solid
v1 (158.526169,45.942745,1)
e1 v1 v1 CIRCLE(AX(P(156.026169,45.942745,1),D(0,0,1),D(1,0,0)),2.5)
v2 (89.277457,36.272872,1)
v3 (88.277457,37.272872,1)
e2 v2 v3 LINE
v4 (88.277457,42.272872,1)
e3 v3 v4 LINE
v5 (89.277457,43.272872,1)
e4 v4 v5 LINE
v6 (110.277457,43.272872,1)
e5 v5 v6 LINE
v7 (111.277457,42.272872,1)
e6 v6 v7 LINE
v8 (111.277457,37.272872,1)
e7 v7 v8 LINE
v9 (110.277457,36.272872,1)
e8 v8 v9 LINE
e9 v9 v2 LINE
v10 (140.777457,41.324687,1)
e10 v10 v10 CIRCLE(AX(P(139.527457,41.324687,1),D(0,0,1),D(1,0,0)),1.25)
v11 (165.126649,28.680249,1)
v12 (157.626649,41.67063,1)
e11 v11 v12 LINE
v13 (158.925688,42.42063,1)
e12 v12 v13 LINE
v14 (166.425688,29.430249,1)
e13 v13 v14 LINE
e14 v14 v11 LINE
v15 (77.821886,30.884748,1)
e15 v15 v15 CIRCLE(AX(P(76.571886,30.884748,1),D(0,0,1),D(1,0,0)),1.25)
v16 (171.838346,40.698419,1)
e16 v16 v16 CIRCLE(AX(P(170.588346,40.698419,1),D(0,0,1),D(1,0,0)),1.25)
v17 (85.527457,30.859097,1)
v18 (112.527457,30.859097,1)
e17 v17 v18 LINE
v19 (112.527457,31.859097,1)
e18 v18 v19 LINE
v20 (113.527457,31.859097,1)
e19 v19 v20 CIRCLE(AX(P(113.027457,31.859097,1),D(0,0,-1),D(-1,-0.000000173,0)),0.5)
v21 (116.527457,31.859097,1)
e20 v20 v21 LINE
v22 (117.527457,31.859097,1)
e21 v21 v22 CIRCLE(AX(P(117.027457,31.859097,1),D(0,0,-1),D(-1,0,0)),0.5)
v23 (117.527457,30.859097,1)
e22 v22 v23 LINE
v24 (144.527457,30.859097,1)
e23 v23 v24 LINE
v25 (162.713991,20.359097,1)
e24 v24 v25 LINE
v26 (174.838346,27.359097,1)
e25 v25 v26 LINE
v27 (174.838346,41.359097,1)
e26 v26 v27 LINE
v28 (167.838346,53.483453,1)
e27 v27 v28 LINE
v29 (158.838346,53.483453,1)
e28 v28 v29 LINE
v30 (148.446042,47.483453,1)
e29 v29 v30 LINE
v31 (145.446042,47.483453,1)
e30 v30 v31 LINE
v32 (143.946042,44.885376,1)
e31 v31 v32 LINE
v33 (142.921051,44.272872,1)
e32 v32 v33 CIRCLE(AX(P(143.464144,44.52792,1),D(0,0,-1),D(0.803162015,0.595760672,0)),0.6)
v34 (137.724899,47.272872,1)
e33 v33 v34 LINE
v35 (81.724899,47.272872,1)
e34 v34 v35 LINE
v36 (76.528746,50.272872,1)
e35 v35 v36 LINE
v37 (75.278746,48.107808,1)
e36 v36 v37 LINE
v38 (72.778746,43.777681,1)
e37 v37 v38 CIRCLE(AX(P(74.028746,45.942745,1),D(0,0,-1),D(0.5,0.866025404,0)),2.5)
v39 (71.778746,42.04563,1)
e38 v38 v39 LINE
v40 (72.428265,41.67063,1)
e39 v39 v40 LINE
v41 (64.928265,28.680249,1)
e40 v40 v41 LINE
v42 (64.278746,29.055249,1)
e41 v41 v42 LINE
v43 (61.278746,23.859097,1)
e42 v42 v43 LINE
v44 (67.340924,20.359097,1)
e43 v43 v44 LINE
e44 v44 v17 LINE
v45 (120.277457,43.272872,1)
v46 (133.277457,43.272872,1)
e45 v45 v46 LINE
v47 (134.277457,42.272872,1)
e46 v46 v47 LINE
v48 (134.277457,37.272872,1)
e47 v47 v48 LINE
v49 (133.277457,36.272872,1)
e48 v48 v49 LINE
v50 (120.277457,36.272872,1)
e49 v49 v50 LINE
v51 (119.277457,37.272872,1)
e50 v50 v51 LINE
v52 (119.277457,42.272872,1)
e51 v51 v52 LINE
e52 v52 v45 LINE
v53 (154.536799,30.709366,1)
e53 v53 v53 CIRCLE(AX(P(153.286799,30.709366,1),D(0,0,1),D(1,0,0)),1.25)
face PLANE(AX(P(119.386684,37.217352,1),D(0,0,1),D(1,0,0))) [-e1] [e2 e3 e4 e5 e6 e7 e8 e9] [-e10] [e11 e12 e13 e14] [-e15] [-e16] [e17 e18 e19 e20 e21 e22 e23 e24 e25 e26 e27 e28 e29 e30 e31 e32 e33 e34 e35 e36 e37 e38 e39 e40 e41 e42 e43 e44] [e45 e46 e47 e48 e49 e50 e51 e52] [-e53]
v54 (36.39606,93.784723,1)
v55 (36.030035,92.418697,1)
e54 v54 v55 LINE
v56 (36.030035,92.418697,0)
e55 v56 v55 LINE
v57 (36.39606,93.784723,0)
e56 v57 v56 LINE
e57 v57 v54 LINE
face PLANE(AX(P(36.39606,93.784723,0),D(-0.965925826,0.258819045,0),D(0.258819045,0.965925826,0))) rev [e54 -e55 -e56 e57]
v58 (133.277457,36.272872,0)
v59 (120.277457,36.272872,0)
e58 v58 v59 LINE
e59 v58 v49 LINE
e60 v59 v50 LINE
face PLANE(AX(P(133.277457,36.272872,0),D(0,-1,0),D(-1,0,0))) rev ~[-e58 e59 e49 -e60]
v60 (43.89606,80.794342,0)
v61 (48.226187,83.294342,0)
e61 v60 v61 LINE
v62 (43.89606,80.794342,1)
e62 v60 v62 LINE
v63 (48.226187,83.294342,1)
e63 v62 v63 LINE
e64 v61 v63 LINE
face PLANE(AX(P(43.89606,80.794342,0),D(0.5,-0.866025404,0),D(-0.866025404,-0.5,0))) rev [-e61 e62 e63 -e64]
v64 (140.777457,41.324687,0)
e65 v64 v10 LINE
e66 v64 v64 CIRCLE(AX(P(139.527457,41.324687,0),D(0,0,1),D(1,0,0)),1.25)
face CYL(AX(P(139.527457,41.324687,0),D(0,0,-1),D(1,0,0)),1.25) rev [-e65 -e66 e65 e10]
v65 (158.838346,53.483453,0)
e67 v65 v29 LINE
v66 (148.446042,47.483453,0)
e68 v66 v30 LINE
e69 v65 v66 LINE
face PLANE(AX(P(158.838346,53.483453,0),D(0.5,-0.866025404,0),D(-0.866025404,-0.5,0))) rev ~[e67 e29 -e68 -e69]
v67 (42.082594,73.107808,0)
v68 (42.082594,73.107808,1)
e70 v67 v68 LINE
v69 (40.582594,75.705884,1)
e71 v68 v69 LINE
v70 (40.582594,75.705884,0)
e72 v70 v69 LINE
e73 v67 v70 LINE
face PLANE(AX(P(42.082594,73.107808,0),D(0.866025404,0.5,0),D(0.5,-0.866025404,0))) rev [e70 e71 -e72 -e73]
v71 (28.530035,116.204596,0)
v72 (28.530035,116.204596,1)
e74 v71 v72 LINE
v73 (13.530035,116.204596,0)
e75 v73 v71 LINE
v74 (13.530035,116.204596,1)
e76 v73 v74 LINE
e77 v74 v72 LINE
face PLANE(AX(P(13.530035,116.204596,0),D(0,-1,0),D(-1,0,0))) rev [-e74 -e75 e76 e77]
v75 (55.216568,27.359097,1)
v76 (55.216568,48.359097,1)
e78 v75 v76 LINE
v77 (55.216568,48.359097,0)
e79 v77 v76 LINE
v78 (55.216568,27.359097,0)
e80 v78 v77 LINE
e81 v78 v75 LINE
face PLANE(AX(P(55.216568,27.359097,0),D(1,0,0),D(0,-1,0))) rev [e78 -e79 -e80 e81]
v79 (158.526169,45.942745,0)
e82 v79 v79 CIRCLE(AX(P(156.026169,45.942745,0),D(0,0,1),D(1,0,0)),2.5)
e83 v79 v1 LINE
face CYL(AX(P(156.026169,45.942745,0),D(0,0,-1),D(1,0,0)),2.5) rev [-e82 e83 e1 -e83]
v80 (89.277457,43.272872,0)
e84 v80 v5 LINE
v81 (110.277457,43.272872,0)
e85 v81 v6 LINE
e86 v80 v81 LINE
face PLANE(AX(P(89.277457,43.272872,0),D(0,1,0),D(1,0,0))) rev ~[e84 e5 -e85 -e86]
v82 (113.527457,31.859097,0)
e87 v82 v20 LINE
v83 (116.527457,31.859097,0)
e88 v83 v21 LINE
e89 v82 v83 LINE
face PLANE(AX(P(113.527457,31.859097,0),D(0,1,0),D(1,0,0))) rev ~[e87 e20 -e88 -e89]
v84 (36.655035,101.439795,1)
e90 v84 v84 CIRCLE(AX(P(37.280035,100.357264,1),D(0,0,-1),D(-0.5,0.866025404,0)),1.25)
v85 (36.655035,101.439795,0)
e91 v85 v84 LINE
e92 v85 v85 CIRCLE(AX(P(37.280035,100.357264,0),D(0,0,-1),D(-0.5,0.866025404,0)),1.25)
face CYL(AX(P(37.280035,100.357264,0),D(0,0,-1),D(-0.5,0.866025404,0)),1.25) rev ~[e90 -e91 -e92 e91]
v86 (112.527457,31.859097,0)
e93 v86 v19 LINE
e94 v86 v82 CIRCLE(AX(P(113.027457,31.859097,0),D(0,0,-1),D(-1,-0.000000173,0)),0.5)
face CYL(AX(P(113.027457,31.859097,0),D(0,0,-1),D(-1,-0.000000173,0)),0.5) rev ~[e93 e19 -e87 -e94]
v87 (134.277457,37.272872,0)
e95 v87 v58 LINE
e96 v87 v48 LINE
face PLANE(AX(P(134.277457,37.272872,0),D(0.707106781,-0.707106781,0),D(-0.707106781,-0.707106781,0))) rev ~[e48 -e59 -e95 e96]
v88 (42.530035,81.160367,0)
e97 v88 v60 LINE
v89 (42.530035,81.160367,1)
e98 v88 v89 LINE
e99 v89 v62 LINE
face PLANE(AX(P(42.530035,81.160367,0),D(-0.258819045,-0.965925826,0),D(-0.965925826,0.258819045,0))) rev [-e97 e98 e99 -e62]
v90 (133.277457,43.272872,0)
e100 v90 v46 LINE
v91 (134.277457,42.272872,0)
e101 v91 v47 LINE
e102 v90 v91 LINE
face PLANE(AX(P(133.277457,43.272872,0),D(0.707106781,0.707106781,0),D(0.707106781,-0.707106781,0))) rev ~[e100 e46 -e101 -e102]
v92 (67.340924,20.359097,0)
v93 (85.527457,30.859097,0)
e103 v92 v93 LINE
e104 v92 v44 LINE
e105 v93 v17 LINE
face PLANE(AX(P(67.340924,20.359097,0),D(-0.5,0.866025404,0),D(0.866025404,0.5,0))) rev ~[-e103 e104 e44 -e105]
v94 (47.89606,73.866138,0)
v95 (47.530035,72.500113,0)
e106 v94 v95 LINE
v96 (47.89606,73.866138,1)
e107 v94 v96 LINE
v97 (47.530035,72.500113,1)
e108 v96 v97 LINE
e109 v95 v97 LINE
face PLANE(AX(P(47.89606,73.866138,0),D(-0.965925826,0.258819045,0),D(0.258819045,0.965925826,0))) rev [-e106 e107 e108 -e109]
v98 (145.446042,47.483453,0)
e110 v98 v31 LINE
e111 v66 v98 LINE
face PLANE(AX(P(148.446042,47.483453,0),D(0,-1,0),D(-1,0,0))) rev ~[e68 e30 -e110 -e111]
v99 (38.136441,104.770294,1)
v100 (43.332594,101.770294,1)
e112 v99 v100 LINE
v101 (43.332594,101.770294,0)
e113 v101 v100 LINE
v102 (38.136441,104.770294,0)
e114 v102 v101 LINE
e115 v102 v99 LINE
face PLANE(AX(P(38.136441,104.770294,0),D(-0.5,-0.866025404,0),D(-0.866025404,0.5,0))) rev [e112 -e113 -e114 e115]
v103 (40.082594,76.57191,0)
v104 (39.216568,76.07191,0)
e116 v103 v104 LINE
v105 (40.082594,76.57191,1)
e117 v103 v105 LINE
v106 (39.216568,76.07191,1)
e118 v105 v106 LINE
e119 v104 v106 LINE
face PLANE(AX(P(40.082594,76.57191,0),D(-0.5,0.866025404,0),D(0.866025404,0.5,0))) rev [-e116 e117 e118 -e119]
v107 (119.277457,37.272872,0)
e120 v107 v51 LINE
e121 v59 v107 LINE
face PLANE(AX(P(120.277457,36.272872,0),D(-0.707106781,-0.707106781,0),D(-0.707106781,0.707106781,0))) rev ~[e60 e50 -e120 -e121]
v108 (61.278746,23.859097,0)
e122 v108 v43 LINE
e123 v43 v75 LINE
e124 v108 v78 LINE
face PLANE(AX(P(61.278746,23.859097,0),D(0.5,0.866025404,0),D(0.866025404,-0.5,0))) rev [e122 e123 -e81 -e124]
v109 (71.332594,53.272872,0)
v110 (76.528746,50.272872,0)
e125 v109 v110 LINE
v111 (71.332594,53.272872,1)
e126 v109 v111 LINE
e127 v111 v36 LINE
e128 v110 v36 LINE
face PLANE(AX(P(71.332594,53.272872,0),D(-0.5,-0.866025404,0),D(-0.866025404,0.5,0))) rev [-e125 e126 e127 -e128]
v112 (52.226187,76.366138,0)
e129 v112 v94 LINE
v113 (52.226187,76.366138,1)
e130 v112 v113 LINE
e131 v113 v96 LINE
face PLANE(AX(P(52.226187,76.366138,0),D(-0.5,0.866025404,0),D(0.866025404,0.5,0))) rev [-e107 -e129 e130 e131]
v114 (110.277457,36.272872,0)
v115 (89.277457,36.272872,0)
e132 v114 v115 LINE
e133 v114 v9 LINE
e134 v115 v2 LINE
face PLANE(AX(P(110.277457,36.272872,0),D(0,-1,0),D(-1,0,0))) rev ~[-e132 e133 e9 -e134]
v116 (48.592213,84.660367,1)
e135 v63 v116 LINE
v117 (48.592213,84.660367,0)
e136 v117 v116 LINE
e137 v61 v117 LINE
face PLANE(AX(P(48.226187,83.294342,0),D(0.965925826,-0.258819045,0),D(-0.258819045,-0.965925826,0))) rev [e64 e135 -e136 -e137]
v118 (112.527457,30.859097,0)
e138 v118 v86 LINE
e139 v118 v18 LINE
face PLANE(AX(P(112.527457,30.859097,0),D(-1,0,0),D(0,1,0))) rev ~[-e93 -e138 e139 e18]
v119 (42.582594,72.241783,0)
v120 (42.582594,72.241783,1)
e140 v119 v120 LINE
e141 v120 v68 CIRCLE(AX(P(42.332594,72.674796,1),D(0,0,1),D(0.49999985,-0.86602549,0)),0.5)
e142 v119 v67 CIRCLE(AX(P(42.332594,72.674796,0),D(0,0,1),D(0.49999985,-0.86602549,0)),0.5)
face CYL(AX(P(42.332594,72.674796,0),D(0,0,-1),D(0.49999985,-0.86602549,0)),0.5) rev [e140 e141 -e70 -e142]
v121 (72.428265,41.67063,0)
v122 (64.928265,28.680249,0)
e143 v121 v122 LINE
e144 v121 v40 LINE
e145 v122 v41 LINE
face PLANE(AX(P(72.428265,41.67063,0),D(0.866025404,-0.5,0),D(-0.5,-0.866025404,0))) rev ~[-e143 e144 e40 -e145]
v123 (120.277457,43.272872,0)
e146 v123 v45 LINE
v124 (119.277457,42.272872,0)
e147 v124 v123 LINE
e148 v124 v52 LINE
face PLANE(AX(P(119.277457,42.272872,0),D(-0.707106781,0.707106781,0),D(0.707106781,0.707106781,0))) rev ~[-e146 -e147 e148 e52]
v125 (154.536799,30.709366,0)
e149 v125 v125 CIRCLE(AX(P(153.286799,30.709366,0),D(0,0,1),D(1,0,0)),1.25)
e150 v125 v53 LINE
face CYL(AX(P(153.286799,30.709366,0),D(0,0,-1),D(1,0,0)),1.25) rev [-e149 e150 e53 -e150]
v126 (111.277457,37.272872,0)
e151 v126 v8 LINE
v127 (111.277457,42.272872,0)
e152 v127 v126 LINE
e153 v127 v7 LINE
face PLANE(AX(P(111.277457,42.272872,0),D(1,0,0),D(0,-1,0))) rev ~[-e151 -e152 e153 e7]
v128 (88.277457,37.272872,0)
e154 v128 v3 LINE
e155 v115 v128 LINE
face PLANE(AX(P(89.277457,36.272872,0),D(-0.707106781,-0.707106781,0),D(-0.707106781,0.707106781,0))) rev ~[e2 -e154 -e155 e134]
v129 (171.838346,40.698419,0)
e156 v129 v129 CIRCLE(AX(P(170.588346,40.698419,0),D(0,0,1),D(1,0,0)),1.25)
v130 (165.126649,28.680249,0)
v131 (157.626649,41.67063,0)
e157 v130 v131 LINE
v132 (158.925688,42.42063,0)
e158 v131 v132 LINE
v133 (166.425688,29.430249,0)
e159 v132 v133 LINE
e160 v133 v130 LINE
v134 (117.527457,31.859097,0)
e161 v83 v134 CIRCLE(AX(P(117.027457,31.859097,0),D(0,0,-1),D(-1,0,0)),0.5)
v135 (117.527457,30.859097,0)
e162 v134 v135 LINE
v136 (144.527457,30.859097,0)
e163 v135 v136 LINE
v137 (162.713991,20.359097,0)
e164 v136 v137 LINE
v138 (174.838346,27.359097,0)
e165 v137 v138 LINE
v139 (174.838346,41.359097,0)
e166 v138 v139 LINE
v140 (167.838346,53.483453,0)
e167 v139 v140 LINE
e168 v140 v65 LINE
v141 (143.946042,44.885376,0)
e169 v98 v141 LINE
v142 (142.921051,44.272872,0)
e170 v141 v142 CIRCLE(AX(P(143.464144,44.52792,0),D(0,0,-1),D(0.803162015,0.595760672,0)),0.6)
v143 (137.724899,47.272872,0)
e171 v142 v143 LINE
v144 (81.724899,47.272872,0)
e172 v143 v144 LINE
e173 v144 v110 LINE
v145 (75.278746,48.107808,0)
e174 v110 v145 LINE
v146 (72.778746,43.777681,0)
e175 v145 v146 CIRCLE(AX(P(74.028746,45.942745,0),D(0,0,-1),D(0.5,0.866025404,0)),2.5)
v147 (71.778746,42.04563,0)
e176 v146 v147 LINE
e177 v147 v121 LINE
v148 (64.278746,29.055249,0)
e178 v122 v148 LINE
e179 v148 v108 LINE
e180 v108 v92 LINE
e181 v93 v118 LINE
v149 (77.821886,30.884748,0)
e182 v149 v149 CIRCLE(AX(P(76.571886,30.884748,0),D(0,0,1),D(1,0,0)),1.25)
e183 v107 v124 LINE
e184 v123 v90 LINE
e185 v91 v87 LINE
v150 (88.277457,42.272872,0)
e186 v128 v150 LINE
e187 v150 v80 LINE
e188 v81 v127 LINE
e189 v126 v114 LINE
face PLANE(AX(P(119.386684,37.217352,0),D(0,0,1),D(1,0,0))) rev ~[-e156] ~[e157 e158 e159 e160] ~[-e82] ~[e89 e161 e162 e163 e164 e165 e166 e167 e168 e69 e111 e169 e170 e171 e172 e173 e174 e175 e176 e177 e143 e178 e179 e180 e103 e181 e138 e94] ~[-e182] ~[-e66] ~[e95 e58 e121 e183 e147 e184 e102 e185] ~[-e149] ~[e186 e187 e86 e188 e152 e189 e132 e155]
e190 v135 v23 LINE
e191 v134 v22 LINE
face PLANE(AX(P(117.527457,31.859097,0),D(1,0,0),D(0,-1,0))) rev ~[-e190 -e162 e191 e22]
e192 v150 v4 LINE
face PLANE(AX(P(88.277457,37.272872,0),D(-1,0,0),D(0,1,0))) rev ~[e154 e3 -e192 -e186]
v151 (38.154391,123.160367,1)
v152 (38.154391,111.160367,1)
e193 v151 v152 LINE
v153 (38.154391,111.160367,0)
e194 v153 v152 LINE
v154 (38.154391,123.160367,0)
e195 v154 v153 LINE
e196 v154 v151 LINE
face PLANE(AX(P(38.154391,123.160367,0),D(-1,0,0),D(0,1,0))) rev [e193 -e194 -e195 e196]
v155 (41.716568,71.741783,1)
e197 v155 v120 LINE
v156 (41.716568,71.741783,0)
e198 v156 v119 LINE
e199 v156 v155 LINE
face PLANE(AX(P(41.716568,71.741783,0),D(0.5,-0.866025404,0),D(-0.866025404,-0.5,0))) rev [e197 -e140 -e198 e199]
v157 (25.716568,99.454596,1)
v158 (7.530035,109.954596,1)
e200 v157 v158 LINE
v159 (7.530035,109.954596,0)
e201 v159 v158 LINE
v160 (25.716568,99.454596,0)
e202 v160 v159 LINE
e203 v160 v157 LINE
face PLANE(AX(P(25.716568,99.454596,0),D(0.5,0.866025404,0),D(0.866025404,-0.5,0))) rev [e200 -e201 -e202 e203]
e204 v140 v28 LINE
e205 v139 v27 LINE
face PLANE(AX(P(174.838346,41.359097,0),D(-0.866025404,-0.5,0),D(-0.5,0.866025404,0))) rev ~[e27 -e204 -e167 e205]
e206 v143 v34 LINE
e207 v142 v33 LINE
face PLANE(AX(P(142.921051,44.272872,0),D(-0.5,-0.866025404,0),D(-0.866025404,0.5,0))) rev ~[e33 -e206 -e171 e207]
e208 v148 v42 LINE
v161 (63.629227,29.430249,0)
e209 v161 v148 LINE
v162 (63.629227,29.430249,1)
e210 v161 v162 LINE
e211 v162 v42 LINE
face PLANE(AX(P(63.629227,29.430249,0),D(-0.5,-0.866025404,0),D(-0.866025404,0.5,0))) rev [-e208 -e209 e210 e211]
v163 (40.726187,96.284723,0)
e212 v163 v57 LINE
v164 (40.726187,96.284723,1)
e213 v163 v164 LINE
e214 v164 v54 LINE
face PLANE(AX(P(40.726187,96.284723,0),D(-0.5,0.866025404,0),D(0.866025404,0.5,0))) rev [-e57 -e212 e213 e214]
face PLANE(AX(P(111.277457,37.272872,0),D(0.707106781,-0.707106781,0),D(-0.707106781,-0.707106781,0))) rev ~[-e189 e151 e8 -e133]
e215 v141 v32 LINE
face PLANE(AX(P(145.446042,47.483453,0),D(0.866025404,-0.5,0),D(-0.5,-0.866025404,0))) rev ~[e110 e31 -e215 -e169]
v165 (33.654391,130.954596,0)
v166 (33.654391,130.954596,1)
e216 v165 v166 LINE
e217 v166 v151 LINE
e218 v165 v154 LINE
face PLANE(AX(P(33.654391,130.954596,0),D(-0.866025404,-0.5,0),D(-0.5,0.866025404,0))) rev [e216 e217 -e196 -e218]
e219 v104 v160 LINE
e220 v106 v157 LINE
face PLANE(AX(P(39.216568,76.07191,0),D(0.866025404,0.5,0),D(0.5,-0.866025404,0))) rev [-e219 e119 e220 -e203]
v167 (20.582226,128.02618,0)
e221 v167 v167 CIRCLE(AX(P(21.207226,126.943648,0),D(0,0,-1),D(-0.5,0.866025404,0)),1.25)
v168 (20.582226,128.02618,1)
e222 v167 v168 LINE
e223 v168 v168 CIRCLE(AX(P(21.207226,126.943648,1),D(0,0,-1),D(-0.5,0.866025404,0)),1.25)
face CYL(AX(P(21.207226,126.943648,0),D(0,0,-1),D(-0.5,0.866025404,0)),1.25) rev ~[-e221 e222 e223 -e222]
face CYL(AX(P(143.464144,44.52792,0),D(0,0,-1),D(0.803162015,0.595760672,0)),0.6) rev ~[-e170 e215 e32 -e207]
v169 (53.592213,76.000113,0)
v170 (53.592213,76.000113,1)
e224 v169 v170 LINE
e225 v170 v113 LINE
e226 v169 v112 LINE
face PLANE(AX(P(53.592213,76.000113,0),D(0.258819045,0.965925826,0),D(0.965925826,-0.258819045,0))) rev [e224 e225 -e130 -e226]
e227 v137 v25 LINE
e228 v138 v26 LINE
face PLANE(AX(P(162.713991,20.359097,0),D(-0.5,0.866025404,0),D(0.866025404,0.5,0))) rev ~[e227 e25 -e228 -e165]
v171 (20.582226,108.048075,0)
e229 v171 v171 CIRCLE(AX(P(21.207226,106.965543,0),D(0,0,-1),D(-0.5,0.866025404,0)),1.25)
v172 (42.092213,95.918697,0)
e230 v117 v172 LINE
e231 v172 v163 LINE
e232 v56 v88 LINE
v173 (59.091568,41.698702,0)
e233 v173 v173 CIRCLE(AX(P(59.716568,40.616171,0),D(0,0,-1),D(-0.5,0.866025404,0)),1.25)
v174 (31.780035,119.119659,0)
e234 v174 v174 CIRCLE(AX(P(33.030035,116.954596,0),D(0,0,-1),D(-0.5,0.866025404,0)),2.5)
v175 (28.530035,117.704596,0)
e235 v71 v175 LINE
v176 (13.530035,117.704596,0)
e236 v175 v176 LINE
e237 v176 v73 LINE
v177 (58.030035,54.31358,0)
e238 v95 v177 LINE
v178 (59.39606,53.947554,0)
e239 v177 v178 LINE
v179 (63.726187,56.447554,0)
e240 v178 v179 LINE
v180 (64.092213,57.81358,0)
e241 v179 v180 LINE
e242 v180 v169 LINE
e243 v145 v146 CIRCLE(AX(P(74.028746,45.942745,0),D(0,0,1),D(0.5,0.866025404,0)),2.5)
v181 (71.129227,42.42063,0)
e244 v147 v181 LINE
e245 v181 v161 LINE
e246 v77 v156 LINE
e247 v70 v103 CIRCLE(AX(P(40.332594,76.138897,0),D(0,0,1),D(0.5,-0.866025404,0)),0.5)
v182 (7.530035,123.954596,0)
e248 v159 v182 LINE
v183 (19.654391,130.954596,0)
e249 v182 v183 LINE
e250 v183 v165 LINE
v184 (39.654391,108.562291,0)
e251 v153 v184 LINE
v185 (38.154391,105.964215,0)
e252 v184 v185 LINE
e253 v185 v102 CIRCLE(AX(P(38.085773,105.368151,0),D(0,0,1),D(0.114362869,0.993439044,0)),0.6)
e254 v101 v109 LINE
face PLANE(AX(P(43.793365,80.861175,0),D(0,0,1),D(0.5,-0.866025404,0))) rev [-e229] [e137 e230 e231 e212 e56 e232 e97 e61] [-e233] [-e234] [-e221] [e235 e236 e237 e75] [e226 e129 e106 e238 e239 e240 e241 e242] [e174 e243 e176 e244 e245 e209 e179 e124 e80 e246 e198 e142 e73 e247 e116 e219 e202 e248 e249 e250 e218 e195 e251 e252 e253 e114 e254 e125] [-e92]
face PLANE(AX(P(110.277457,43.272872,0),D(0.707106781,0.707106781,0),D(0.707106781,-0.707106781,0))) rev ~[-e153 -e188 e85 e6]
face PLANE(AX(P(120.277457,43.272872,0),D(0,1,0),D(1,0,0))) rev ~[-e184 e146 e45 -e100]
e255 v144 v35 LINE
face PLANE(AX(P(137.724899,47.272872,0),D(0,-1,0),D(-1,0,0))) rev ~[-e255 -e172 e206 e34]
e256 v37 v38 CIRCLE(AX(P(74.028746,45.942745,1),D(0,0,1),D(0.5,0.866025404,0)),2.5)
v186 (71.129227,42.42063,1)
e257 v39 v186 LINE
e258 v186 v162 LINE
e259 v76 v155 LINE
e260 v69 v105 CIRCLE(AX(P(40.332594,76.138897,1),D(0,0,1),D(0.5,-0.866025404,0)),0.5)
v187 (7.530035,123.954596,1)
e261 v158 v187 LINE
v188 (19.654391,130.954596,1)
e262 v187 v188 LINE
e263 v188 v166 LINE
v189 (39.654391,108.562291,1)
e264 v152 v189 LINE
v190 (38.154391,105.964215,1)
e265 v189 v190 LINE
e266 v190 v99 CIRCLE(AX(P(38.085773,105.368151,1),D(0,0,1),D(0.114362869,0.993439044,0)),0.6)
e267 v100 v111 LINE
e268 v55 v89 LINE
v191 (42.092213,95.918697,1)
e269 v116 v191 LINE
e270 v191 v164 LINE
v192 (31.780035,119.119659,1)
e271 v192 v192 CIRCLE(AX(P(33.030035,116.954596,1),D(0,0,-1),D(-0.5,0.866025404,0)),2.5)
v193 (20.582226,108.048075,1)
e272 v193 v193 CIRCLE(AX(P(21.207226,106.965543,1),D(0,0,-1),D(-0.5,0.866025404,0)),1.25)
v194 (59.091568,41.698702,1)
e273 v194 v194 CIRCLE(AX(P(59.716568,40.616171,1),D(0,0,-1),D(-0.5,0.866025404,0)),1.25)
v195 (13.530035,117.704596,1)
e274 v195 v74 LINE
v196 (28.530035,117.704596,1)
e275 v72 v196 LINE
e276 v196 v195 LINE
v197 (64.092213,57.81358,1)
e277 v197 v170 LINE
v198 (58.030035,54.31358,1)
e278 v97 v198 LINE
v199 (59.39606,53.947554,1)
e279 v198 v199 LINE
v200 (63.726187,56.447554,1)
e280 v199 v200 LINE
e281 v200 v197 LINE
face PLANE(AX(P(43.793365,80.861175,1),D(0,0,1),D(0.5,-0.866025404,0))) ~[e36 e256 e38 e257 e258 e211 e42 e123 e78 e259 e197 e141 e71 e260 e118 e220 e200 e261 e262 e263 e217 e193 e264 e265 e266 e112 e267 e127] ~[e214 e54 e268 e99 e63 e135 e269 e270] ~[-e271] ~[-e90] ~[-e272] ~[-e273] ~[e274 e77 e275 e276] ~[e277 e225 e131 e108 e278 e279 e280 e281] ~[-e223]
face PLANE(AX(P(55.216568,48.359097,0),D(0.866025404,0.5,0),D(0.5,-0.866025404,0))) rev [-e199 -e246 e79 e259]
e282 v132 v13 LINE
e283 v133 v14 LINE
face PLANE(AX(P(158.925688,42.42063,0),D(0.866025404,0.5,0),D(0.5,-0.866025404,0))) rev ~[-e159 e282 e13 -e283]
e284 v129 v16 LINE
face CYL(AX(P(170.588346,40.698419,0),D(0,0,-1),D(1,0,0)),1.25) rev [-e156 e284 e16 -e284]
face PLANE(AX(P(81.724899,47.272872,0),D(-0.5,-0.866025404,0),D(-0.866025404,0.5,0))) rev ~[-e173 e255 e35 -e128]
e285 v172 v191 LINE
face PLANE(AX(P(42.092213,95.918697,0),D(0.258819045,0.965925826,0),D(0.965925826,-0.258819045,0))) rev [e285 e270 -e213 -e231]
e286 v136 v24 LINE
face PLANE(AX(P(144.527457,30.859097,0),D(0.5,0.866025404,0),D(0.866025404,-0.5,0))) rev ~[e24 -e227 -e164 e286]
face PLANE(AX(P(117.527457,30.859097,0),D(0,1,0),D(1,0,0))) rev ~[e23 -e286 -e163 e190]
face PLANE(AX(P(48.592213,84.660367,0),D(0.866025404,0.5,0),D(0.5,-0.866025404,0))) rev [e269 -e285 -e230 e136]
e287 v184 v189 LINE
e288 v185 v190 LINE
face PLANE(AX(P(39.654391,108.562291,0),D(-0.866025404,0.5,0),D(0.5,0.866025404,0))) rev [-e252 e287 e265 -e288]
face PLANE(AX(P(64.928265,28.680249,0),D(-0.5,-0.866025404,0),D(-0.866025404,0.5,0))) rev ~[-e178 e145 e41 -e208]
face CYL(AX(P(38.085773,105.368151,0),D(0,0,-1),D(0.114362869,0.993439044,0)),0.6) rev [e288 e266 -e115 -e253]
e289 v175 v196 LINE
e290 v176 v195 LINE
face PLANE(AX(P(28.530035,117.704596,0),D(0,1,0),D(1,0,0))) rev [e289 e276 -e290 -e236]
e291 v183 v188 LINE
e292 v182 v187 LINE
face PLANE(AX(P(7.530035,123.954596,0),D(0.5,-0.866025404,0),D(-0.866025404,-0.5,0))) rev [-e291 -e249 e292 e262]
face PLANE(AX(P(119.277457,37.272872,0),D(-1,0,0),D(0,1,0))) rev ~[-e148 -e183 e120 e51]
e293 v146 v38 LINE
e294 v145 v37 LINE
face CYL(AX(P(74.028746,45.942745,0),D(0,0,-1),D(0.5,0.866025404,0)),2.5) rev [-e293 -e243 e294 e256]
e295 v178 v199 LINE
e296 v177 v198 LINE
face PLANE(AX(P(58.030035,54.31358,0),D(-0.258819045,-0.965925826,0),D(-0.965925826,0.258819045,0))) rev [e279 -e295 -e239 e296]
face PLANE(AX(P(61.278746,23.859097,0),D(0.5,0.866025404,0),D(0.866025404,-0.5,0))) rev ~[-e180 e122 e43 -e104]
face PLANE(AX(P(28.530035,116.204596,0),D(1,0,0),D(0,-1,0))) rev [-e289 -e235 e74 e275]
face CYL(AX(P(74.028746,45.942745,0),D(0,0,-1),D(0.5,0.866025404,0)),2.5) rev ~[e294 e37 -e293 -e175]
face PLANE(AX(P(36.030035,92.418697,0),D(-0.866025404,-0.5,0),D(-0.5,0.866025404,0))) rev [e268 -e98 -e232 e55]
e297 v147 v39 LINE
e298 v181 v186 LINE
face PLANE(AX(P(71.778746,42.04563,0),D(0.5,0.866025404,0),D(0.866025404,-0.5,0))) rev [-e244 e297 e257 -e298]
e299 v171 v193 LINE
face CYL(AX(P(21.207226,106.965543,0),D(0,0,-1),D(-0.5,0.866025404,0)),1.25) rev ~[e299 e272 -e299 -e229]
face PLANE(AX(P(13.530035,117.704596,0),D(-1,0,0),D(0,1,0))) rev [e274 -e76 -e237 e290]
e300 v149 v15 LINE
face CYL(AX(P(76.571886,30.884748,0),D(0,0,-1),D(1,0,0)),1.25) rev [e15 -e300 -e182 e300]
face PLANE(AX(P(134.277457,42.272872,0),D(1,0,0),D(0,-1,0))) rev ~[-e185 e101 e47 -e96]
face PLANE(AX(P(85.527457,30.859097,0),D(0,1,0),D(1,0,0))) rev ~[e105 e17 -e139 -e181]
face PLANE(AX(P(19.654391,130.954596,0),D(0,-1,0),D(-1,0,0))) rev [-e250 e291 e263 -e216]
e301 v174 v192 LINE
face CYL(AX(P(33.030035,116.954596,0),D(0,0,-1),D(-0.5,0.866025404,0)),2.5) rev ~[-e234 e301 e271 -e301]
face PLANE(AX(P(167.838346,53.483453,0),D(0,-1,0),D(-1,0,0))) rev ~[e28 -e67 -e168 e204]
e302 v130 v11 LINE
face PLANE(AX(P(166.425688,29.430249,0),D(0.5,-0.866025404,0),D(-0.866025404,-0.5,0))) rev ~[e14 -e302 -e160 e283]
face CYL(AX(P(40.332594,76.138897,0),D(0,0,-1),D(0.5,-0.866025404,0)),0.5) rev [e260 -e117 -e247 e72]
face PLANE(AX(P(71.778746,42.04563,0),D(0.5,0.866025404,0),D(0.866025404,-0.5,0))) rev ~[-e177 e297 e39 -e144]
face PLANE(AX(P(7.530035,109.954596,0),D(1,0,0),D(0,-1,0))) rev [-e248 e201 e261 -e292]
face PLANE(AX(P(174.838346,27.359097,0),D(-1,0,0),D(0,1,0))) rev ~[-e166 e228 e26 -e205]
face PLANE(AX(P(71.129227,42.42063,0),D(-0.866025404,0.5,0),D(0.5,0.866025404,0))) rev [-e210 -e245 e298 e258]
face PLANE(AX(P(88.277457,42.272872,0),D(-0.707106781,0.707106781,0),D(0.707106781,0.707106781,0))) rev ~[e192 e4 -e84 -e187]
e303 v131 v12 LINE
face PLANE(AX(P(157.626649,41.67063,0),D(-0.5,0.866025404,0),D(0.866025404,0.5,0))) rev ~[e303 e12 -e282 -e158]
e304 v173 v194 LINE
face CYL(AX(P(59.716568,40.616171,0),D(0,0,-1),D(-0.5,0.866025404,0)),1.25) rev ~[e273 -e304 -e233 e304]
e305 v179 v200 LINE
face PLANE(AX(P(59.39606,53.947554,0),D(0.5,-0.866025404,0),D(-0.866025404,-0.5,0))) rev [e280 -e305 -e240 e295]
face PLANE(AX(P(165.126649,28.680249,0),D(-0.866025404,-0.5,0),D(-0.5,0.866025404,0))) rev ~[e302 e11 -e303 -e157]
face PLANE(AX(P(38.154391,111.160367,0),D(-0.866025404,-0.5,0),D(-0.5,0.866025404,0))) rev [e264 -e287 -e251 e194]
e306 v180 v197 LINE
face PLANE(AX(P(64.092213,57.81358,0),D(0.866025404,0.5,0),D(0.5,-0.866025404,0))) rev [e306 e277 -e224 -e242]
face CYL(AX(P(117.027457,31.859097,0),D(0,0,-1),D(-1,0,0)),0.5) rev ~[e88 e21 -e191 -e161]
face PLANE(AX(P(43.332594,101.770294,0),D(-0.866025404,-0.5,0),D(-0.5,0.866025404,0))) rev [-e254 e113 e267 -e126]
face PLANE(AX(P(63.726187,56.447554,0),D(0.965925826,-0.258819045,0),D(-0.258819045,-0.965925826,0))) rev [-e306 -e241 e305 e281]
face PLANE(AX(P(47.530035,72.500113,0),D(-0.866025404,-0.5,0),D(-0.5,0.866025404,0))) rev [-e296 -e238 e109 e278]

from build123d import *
from build123d.topology import SkipClean

# Parameters (mm, degrees)
CROQUIS1_R              = 1.25
CROQUIS1_R_2            = 2.5
SALIENTE_EXTRUIR1_DEPTH = 1


with BuildPart() as part:
    # Croquis1 → Saliente-Extruir1 (new body)
    with BuildSketch(Plane.XY):
        with BuildLine():
            Line((64.278746094, 29.055249422), (61.278746094, 23.859096999))
            Line((61.278746094, 23.859096999), (67.340923921, 20.359096999))
            Line((67.340923921, 20.359096999), (85.5274574, 30.859096999))
            Line((85.5274574, 30.859096999), (112.5274574, 30.859096999))
            Line((112.5274574, 30.859096999), (112.5274574, 31.859096999))
            ThreePointArc((112.5274574, 31.859096999), (113.027457314, 32.359096999), (113.527457227, 31.859096999))
            Line((113.527457227, 31.859096999), (116.527457227, 31.859096999))
            ThreePointArc((116.527457227, 31.859096999), (117.027457227, 32.359096999), (117.527457227, 31.859096999))
            Line((117.527457227, 31.859096999), (117.527457227, 30.859096999))
            Line((117.527457227, 30.859096999), (144.527457227, 30.859096999))
            Line((144.527457227, 30.859096999), (162.713990707, 20.359096999))
            Line((162.713990707, 20.359096999), (174.83834636, 27.359096999))
            Line((174.83834636, 27.359096999), (174.83834636, 41.359096999))
            Line((174.83834636, 41.359096999), (167.83834636, 53.483452652))
            Line((167.83834636, 53.483452652), (158.83834636, 53.483452652))
            Line((158.83834636, 53.483452652), (148.446041514, 47.483452652))
            Line((148.446041514, 47.483452652), (145.446041514, 47.483452652))
            Line((145.446041514, 47.483452652), (143.946041514, 44.88537644))
            ThreePointArc((143.946041514, 44.88537644), (143.77192137, 44.012873167), (142.92105094, 44.272871814))
            Line((142.92105094, 44.272871814), (137.724898517, 47.272871814))
            Line((137.724898517, 47.272871814), (81.724898517, 47.272871814))
            Line((81.724898517, 47.272871814), (76.528746094, 50.272871814))
            Line((76.528746094, 50.272871814), (75.278746094, 48.107808305))
            ThreePointArc((75.278746094, 48.107808305), (76.193809604, 44.692744795), (72.778746094, 43.777681286))
            Line((72.778746094, 43.777681286), (71.778746094, 42.045630478))
            Line((71.778746094, 42.045630478), (72.428265147, 41.670630478))
            Line((72.428265147, 41.670630478), (64.928265147, 28.680249422))
            Line((64.928265147, 28.680249422), (64.278746094, 29.055249422))
        make_face()
        with Locations((76.571886424, 30.884748108)):
            Circle(CROQUIS1_R, mode=Mode.SUBTRACT)
        with Locations((153.286799356, 30.709365751)):
            Circle(CROQUIS1_R, mode=Mode.SUBTRACT)
        Polygon((166.425687586, 29.430249422), (165.776168533, 29.055249422), (165.12664948, 28.680249422), (157.62664948, 41.670630478), (158.276168533, 42.045630478), (158.925687586, 42.420630478), align=None, mode=Mode.SUBTRACT)
        Polygon((88.277457227, 42.272871814), (89.277457227, 43.272871814), (110.277457227, 43.272871814), (111.277457227, 42.272871814), (111.277457227, 37.272871814), (110.277457227, 36.272871814), (89.277457227, 36.272871814), (88.277457227, 37.272871814), align=None, mode=Mode.SUBTRACT)
        Polygon((119.277457227, 42.272871814), (120.277457227, 43.272871814), (133.277457227, 43.272871814), (134.277457227, 42.272871814), (134.277457227, 37.272871814), (133.277457227, 36.272871814), (120.277457227, 36.272871814), (119.277457227, 37.272871814), align=None, mode=Mode.SUBTRACT)
        with Locations((139.527457227, 41.32468677)):
            Circle(CROQUIS1_R, mode=Mode.SUBTRACT)
        with Locations((170.58834636, 40.698418571)):
            Circle(CROQUIS1_R, mode=Mode.SUBTRACT)
        with Locations((156.026168533, 45.942744795)):
            Circle(CROQUIS1_R_2, mode=Mode.SUBTRACT)
    saliente_extruir1 = extrude(amount=SALIENTE_EXTRUIR1_DEPTH)

    # Simetría2: Saliente-Extruir1 across plane
    with SkipClean():  # the faces are left unmerged after this step: merging them gives an invalid solid
        add(saliente_extruir1.mirror(Plane(origin=(35.627767514, -20.569701165, 1), x_dir=(0, 0, 1), z_dir=(0.8660254037844365, -0.5000000000000039, 0))))


solid = part.part
